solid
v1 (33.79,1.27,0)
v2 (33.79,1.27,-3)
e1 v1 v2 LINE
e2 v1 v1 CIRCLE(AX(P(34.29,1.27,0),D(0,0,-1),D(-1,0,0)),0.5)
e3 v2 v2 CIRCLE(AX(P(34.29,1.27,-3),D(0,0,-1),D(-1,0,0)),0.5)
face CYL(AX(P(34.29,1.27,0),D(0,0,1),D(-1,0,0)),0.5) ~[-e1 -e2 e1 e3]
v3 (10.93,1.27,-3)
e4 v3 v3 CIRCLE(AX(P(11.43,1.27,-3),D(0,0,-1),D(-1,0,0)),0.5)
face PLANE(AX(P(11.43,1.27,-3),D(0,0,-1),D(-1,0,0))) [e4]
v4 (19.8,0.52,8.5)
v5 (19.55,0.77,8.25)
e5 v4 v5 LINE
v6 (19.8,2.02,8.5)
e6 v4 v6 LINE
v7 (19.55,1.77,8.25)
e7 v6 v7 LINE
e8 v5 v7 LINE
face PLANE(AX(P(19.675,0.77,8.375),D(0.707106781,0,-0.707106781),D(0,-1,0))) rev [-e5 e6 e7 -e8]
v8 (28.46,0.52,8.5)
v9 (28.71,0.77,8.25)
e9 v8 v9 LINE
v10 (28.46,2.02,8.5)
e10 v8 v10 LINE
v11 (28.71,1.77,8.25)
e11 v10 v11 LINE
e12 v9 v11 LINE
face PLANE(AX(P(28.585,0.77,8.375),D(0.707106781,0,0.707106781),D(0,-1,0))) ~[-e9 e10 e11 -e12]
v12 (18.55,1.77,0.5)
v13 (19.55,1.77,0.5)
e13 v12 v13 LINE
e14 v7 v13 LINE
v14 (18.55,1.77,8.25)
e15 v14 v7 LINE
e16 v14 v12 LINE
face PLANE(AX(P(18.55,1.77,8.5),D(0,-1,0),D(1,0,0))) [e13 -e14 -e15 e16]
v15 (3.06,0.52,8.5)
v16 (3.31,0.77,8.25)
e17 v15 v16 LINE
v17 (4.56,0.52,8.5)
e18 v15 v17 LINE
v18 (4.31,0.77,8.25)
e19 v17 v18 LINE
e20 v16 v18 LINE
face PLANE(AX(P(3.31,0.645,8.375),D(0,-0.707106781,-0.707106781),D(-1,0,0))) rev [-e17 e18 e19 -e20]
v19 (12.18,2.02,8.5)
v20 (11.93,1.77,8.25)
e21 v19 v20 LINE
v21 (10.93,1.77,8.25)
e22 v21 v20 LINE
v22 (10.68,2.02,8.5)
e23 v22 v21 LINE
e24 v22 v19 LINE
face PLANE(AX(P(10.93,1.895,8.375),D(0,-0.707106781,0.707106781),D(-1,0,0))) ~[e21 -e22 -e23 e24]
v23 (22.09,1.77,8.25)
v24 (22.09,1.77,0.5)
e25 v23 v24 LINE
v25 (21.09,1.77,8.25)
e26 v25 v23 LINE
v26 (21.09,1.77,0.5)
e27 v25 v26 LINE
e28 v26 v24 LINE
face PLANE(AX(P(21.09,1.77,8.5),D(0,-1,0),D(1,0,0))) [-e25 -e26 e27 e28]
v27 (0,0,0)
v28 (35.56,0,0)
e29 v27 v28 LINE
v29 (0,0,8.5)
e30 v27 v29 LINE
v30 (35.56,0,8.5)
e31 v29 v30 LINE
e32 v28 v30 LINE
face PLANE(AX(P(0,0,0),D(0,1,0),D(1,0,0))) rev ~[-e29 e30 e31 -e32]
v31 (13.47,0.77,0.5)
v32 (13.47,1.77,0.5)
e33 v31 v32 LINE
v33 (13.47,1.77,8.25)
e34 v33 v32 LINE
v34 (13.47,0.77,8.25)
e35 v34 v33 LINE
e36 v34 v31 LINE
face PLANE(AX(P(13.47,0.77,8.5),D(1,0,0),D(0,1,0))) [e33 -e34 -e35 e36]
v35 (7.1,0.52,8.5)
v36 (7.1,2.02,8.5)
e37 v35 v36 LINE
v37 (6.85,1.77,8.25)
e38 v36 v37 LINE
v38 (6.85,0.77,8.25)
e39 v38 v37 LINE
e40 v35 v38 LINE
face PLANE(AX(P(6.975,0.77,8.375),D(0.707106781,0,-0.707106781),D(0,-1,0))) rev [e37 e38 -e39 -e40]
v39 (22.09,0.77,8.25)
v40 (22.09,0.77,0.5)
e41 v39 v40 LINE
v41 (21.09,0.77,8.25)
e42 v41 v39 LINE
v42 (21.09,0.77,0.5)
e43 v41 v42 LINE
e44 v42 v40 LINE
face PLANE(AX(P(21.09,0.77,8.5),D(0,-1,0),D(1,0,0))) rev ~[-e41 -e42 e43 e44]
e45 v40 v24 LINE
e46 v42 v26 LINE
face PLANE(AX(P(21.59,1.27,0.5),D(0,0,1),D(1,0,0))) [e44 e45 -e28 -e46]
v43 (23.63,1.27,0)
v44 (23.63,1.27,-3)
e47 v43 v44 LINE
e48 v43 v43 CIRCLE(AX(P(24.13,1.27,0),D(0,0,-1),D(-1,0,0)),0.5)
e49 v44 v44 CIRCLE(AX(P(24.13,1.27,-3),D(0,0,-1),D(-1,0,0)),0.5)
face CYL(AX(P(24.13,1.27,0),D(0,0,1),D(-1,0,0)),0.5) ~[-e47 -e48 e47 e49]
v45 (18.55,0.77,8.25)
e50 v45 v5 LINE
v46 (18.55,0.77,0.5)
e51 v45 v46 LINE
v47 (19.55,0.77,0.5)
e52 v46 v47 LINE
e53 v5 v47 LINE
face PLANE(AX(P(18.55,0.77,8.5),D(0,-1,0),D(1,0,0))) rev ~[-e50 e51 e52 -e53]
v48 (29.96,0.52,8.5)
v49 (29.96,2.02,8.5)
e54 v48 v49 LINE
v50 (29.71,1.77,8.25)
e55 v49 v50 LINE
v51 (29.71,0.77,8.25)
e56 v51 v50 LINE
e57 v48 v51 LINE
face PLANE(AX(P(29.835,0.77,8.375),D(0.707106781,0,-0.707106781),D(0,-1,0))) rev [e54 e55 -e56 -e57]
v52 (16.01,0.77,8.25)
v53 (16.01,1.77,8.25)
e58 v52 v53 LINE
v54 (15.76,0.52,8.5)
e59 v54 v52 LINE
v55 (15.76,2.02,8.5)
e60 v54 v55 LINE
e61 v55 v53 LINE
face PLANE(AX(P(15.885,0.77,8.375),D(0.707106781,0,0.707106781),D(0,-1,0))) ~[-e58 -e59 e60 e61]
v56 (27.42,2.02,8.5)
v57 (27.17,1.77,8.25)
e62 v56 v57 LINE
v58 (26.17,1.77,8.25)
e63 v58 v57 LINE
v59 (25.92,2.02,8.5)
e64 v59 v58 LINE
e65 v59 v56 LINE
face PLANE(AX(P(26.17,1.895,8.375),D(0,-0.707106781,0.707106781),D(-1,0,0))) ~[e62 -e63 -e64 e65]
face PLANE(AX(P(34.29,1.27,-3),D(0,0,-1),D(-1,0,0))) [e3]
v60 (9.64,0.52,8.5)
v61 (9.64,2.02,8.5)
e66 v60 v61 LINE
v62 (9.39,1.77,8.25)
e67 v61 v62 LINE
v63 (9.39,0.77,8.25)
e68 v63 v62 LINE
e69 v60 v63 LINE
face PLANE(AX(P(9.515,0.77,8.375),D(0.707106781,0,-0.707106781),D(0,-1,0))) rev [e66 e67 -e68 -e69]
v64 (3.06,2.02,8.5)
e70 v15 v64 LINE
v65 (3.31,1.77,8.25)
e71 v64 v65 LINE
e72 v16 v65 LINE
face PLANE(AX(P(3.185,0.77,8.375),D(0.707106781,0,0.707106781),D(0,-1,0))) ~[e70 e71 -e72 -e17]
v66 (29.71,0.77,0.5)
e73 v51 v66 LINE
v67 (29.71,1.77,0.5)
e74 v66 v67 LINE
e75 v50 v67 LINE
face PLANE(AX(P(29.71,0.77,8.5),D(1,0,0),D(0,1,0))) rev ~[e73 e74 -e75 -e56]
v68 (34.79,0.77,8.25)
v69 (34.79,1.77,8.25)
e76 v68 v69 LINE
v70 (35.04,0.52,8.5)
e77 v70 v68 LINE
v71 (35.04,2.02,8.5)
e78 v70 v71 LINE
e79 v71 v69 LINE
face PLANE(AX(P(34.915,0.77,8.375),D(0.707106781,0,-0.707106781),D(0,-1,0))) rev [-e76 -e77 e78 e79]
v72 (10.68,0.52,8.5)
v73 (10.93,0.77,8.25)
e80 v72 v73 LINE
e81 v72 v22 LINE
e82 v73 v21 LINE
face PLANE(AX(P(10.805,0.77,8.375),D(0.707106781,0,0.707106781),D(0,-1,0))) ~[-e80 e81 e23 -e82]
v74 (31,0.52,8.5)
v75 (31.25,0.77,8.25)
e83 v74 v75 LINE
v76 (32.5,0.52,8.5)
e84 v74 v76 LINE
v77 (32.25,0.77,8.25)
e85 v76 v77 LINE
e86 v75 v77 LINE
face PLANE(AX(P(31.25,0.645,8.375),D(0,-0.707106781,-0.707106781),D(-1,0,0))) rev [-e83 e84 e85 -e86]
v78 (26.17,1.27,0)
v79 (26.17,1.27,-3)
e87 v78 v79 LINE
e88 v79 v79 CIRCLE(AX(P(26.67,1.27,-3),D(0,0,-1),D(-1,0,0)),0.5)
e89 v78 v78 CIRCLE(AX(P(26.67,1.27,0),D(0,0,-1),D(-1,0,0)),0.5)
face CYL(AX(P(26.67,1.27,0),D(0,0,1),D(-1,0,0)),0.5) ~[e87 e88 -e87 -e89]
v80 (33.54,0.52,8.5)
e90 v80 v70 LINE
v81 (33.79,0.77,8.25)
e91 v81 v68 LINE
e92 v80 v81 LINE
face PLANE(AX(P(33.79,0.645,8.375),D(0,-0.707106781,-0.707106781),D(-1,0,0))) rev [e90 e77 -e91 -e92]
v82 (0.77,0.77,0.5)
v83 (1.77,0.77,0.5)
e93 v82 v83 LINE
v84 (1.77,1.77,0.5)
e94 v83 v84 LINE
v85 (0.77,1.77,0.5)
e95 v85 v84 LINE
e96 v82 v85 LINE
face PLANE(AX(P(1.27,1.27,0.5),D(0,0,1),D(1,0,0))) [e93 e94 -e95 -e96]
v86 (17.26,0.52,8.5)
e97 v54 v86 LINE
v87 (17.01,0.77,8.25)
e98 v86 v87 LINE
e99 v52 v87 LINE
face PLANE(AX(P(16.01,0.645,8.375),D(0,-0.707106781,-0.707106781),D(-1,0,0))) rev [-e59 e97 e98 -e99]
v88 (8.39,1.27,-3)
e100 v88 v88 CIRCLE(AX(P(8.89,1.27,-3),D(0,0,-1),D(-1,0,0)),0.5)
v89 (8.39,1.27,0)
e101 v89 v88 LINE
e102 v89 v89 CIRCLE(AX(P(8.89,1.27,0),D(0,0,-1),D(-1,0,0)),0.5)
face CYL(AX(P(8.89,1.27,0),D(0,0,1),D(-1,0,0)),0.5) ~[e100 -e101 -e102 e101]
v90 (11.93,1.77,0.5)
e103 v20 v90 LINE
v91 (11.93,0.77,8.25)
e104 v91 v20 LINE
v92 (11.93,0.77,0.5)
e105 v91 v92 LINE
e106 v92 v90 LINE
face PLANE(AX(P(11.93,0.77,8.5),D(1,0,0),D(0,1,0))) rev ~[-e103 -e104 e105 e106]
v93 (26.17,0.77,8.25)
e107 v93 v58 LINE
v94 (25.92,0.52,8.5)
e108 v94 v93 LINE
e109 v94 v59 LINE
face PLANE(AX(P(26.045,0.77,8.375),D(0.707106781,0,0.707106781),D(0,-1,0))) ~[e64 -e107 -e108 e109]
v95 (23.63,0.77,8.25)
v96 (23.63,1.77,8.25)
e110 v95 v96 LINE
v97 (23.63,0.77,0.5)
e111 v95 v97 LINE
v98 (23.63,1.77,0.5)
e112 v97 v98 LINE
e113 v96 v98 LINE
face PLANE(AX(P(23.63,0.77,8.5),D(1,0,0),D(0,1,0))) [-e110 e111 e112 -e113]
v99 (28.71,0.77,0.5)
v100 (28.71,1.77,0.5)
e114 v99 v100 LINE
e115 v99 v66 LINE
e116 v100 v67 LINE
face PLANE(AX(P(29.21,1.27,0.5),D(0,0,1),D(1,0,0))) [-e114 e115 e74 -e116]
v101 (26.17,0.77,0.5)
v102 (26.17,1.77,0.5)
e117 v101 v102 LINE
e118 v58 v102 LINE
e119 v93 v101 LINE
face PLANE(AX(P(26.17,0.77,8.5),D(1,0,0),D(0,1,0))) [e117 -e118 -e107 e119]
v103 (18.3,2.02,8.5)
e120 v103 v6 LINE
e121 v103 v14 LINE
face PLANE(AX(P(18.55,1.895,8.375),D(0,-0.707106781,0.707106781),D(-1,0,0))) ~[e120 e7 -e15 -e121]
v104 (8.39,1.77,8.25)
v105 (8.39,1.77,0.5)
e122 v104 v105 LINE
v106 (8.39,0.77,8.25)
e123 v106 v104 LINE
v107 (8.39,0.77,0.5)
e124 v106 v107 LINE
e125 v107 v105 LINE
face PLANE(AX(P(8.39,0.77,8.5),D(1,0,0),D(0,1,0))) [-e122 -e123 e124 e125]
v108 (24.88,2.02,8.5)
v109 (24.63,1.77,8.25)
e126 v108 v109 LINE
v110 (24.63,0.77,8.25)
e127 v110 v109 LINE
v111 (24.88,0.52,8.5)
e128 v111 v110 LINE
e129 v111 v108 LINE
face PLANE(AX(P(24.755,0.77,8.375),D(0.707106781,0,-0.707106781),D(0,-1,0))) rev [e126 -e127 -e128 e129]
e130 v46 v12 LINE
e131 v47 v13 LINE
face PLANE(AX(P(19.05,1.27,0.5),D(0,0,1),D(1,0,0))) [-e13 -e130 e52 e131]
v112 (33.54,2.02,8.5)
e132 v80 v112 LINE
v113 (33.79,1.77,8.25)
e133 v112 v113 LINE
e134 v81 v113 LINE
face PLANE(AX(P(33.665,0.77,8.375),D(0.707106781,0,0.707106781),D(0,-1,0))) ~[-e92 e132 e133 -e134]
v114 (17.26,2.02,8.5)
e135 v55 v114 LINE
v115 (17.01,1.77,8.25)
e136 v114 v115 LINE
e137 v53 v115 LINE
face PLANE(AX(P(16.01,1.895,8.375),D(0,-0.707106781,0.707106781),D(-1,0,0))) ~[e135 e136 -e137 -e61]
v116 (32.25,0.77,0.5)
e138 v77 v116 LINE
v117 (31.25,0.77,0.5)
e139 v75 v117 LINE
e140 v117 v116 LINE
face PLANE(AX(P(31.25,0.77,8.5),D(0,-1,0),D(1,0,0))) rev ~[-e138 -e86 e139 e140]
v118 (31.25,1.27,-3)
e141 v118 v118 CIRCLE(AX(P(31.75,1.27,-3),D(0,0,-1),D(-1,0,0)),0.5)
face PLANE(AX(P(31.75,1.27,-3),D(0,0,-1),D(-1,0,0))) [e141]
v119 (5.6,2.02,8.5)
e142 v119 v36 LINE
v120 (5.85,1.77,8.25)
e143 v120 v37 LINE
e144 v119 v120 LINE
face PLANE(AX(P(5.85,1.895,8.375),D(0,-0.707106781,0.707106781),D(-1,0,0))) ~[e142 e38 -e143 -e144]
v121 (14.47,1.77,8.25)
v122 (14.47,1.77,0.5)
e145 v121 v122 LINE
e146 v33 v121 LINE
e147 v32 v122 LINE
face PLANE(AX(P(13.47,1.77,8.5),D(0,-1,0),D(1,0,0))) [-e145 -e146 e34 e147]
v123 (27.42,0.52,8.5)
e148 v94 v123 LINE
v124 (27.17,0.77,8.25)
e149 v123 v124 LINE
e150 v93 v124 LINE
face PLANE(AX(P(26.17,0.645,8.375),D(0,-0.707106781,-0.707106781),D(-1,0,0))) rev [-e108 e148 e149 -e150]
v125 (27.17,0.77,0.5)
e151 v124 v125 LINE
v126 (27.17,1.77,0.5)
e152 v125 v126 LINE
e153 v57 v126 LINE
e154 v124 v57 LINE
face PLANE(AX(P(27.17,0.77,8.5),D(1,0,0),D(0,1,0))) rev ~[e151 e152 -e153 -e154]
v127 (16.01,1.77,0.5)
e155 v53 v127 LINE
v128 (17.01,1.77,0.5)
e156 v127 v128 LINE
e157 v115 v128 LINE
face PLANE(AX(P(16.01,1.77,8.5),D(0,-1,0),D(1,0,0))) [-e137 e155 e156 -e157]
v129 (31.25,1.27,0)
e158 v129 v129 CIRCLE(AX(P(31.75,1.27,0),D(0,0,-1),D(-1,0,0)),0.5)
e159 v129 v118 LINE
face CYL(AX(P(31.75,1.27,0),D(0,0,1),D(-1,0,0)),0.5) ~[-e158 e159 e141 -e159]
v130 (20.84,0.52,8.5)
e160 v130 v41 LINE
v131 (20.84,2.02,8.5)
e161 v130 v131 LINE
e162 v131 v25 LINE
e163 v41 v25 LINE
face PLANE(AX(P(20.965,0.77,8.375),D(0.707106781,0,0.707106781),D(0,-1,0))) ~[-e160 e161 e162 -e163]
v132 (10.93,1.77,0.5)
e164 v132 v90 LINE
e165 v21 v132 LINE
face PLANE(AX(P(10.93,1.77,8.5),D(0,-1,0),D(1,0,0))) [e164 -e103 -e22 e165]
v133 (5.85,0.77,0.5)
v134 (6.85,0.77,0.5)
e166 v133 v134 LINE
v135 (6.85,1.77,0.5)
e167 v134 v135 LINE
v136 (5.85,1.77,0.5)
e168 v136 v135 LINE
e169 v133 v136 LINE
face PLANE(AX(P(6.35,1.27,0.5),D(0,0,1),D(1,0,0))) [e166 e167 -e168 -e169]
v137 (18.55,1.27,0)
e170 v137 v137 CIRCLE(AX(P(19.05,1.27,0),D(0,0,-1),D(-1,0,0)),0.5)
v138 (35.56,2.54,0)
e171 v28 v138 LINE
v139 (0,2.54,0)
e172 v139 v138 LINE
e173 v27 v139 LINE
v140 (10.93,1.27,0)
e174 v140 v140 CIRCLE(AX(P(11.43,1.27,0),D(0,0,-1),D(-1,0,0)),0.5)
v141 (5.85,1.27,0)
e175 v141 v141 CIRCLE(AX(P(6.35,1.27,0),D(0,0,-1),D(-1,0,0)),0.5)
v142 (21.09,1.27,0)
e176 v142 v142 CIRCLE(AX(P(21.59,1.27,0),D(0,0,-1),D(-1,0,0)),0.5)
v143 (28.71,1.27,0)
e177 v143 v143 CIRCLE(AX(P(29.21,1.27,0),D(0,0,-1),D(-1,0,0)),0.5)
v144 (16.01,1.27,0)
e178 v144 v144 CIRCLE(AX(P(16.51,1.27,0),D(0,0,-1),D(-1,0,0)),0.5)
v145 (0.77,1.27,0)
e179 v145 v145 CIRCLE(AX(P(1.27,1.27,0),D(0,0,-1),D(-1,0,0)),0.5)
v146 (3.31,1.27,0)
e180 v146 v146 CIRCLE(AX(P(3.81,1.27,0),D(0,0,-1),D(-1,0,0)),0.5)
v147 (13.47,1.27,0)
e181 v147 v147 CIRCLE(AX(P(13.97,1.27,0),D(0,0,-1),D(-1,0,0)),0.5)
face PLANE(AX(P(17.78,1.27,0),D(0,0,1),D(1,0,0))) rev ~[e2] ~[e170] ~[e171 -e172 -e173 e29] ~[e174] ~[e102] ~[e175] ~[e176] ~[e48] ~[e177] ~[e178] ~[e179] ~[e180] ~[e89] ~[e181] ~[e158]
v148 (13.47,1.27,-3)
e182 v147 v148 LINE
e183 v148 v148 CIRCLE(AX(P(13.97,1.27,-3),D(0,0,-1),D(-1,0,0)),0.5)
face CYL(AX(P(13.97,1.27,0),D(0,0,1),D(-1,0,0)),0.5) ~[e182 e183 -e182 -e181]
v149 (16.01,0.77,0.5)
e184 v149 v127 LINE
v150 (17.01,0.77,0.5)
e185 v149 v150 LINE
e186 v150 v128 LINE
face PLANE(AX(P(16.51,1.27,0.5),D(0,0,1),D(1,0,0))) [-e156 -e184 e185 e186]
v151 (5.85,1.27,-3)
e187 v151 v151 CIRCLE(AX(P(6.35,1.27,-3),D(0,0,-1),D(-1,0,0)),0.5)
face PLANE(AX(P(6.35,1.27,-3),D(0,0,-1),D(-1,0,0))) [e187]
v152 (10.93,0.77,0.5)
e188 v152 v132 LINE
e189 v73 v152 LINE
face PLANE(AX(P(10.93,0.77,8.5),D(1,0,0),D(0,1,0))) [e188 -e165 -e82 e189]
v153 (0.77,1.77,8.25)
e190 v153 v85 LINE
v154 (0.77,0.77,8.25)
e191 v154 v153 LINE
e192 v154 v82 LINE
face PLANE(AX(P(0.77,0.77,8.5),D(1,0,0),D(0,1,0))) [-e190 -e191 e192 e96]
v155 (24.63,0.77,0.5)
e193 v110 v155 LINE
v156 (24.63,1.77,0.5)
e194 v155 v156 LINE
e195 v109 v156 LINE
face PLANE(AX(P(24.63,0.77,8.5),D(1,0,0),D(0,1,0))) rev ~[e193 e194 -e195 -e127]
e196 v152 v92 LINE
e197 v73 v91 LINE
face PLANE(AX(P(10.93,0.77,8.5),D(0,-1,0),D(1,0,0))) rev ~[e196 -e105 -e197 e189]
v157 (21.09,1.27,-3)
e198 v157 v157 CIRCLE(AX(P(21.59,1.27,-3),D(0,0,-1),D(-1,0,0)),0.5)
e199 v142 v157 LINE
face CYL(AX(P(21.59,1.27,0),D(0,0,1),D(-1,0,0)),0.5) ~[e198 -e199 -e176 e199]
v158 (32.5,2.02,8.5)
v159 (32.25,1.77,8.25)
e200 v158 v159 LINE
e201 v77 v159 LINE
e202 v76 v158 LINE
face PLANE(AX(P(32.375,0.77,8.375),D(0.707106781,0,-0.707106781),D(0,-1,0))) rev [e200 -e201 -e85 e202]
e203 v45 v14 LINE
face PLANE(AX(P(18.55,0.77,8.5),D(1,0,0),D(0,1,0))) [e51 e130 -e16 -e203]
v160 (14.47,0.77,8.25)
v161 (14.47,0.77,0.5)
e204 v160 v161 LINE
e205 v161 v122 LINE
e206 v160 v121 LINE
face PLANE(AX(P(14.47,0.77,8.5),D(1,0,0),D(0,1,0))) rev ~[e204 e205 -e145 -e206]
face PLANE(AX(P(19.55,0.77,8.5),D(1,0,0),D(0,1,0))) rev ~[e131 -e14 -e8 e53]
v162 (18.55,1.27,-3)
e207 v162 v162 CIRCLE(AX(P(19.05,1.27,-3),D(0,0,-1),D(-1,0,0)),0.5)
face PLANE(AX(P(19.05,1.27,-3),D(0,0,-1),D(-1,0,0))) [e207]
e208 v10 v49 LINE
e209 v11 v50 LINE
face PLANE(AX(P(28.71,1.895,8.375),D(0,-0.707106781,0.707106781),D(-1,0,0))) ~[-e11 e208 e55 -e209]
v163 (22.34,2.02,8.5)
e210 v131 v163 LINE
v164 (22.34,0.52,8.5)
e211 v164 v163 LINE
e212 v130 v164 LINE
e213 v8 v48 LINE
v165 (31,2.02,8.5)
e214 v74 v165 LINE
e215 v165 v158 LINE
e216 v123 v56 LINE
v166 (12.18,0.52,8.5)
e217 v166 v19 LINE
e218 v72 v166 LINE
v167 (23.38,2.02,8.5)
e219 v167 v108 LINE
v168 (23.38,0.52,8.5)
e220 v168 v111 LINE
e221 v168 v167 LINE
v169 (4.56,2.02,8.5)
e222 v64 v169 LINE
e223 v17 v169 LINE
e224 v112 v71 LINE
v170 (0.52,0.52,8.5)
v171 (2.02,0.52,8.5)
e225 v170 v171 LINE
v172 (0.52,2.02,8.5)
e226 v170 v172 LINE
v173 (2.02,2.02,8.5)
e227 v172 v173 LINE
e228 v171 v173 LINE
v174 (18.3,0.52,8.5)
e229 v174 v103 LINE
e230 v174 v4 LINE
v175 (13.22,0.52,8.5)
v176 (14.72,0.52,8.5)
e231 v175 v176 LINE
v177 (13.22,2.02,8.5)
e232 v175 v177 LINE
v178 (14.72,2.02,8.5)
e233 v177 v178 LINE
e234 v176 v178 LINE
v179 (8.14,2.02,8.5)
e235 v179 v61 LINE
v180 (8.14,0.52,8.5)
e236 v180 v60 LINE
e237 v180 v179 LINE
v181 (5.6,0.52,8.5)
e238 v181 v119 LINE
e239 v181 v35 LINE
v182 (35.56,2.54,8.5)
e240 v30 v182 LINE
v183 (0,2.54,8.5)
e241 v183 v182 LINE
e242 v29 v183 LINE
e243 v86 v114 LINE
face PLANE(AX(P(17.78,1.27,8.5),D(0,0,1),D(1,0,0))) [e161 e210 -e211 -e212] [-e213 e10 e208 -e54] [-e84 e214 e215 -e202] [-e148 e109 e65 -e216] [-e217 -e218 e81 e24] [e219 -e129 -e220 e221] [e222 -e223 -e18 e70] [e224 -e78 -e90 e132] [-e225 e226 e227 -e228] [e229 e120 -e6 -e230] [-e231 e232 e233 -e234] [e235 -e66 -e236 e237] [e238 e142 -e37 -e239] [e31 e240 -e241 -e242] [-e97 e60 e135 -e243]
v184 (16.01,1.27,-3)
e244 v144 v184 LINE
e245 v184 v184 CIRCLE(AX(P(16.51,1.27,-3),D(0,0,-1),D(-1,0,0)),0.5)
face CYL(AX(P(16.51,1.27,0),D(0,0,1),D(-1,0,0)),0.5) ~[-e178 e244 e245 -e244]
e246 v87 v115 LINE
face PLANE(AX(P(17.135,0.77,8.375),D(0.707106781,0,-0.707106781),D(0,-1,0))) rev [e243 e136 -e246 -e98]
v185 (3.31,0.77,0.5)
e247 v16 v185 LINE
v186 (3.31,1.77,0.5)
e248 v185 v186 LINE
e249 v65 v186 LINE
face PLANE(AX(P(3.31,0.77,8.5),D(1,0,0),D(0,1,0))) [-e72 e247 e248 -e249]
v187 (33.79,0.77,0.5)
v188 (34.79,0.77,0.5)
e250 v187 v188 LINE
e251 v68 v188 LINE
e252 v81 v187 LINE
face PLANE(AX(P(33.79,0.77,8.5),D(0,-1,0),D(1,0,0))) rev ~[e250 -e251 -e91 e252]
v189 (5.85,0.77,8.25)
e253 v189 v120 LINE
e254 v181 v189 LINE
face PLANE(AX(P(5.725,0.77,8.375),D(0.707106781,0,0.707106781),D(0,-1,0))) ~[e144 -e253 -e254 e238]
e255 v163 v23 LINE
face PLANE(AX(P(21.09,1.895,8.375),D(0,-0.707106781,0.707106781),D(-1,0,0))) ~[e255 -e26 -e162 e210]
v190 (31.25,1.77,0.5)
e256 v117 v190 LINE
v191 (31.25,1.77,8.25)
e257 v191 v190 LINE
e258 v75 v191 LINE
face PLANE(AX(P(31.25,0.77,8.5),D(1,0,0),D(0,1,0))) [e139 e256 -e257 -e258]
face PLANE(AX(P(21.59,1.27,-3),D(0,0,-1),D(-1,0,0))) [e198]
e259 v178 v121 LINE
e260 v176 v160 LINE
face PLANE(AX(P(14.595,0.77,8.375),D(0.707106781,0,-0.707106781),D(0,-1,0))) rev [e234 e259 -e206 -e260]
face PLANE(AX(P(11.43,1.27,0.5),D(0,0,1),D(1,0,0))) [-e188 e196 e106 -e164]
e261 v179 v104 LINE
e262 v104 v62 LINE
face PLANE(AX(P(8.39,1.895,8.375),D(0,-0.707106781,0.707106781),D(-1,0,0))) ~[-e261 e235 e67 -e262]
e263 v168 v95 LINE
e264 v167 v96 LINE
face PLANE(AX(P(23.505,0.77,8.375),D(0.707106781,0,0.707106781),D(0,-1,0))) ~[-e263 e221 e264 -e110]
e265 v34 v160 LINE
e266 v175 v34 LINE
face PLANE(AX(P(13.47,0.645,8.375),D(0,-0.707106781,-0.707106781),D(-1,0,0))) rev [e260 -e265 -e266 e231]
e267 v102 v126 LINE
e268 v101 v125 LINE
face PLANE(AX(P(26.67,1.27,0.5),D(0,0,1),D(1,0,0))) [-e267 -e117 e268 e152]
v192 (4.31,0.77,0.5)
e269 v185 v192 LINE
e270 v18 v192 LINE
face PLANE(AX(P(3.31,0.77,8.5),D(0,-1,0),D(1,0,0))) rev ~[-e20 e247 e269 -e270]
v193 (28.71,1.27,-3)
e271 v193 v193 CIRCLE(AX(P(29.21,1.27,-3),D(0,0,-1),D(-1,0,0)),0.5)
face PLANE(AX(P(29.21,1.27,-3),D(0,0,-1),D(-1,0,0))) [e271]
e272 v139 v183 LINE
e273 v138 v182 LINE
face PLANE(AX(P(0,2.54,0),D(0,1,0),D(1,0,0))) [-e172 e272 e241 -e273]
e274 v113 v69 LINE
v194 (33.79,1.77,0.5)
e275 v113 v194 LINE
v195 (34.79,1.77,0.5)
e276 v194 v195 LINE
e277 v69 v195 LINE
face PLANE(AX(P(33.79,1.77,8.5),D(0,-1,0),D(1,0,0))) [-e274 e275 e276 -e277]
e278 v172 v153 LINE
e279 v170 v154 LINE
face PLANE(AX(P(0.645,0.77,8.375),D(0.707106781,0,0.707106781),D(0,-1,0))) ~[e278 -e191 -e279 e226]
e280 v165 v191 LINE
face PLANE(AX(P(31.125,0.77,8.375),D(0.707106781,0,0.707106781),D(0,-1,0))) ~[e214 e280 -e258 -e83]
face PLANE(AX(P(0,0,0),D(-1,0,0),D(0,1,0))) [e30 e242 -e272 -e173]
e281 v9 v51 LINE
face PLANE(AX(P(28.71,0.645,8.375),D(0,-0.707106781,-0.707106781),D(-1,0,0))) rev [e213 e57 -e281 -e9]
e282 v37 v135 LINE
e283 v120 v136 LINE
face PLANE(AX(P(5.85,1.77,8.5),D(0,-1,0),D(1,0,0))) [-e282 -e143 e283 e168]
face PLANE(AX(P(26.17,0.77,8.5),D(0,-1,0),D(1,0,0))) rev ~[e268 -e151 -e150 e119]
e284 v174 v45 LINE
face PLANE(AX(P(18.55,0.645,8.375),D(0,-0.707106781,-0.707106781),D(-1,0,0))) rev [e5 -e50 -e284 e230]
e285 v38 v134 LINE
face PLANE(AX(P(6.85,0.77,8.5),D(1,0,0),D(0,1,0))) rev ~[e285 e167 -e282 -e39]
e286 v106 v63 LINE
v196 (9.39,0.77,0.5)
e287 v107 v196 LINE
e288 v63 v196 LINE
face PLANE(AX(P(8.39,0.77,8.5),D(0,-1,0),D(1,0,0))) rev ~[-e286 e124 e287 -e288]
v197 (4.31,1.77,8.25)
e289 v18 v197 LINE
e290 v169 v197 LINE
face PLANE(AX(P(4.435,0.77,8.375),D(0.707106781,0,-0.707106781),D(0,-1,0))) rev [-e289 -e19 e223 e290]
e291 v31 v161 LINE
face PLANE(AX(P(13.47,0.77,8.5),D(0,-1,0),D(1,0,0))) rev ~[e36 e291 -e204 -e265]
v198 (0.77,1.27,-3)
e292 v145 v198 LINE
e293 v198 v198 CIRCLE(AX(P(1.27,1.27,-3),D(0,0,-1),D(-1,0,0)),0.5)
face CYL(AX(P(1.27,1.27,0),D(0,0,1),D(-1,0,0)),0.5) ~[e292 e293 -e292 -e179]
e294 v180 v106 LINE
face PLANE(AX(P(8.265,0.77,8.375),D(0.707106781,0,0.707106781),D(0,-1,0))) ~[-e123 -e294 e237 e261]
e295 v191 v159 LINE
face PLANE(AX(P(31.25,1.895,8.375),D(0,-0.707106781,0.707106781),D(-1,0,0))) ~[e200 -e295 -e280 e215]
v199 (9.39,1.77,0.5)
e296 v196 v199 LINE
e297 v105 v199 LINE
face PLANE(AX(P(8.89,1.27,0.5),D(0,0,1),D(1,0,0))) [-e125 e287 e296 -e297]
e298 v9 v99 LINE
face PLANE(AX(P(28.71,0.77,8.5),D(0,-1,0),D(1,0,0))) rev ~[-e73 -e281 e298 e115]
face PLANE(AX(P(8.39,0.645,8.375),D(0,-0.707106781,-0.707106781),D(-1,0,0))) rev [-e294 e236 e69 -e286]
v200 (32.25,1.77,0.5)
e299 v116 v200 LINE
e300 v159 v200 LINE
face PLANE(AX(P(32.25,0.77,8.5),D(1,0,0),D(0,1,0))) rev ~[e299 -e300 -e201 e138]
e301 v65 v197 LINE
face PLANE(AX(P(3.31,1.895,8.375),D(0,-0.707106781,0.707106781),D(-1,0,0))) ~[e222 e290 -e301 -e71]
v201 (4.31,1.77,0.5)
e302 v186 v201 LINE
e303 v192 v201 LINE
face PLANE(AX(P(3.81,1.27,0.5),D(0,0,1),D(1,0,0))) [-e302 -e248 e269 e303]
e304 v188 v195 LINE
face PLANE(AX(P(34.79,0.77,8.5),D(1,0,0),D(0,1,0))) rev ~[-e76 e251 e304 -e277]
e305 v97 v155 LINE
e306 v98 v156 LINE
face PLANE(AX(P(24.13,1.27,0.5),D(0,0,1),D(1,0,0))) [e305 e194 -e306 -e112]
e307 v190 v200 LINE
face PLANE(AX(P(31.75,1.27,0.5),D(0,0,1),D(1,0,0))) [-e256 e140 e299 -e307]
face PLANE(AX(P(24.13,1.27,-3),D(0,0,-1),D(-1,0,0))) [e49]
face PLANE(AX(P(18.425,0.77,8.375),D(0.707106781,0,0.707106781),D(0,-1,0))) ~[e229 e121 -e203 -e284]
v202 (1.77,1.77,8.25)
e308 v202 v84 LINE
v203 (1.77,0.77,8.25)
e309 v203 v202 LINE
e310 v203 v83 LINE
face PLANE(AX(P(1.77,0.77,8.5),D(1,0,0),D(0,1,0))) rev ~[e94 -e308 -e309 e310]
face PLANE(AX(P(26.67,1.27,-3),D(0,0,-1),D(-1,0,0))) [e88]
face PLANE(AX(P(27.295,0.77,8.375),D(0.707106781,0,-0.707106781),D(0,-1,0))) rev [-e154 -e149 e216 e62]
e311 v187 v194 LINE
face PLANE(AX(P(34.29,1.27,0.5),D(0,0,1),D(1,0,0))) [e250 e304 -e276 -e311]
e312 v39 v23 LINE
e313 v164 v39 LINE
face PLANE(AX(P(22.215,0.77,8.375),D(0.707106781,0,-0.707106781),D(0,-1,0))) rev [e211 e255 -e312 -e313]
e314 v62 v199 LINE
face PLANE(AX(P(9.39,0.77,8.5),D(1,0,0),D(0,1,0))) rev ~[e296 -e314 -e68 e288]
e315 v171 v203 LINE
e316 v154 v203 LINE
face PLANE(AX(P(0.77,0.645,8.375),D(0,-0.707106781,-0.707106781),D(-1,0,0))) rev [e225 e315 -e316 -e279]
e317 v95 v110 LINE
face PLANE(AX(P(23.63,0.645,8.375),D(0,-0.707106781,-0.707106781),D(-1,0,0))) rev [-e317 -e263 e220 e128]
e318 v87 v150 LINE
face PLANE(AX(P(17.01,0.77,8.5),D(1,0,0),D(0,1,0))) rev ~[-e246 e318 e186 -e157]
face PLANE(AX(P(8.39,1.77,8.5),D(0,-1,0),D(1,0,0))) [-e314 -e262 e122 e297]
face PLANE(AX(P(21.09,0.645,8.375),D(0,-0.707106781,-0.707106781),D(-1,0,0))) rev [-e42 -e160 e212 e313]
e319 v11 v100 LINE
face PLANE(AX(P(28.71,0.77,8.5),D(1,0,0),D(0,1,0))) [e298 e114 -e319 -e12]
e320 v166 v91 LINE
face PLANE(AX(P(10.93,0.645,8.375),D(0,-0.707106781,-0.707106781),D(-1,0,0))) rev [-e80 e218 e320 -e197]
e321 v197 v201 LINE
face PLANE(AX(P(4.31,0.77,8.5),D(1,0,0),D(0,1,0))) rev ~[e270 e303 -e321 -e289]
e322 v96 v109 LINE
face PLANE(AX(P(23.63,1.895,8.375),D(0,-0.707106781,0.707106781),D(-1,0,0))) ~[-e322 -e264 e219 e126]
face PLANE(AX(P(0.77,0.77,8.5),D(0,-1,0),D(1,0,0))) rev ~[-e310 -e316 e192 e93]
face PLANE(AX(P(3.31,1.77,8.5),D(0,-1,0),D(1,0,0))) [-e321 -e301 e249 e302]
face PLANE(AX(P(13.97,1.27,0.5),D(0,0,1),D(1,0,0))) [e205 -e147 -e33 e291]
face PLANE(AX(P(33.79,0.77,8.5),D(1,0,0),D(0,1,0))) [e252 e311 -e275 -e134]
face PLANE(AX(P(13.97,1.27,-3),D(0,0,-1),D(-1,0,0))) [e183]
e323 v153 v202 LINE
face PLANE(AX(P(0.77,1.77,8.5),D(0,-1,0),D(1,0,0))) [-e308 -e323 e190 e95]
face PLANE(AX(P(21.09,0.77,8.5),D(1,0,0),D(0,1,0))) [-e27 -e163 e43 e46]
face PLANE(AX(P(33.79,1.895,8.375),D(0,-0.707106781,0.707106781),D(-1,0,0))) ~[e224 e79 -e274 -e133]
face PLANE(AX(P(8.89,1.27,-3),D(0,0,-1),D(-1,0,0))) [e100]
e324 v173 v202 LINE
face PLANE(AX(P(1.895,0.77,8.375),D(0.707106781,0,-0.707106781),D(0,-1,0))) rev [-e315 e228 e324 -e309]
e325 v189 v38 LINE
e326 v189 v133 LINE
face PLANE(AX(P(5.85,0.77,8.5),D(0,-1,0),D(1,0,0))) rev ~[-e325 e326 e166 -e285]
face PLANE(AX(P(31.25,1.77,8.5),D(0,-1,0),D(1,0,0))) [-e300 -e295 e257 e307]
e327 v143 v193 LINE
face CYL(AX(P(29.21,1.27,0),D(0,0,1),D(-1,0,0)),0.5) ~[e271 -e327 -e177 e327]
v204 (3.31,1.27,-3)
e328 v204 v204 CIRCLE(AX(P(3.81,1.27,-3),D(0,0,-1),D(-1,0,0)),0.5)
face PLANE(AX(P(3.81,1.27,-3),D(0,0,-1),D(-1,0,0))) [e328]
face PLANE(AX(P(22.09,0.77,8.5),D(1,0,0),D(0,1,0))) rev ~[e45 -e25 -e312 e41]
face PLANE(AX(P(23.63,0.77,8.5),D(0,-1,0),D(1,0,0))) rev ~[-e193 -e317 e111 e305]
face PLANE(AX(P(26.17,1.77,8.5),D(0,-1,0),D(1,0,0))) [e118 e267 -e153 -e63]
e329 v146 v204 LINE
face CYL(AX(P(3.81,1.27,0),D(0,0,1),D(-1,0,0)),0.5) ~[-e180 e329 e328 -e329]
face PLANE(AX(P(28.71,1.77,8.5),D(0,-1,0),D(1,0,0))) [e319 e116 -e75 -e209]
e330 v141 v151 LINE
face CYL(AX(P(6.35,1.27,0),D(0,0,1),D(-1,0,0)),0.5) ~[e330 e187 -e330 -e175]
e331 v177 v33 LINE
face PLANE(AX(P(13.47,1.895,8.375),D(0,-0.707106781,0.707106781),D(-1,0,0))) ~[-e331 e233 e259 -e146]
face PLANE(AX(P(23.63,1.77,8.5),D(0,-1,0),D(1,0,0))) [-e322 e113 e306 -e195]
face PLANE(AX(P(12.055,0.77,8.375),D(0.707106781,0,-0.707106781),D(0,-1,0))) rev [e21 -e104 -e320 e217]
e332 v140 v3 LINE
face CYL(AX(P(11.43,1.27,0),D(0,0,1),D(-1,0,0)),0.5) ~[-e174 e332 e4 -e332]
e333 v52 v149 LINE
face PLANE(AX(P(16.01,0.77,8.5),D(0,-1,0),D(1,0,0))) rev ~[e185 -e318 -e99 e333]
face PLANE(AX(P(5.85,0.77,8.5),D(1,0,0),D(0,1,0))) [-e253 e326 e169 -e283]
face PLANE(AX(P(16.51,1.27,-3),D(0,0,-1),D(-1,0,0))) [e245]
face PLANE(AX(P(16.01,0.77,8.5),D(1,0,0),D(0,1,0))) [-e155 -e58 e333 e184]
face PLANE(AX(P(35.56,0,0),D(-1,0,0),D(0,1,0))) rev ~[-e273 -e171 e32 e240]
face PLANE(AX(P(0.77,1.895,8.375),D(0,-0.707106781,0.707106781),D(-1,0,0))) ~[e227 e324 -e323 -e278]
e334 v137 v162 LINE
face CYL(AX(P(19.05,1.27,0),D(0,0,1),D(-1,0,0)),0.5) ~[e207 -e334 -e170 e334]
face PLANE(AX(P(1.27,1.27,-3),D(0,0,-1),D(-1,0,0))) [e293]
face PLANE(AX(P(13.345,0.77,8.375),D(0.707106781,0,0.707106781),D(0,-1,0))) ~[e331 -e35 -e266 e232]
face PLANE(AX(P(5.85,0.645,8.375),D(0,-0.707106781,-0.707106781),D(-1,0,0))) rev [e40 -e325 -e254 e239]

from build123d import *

# Parameters (mm, degrees)
SKETCH1_W                  = 35.56
SKETCH1_H                  = 2.54
BOSS_EXTRUDE1_DEPTH        = 8.5
SKETCH2_W                  = 1
SKETCH2_H                  = 1
CUT_EXTRUDE1_DEPTH         = 8
CHAMFER1_SIZE              = 0.25
LPATTERN2_COUNT            = 14
LPATTERN2_PITCH            = 2.54
CHAMFER1_OF_LPATTERN2_SIZE = 0.25
SKETCH3_R                  = 0.5
BOSS_EXTRUDE2_DEPTH        = 3
LPATTERN3_COUNT            = 14
LPATTERN3_PITCH            = 2.54


with BuildPart() as part:
    # Sketch1 → Boss-Extrude1 (new body)
    with BuildSketch(Plane.XY):
        with Locations((17.78, 1.27)):
            Rectangle(SKETCH1_W, SKETCH1_H)
    extrude(amount=BOSS_EXTRUDE1_DEPTH)

    # Sketch2 → Cut-Extrude1 (cut)
    with BuildSketch(Plane.XY.offset(8.5)):
        with Locations((1.27, 1.27)):
            Rectangle(SKETCH2_W, SKETCH2_H)
    cut_extrude1 = extrude(amount=-CUT_EXTRUDE1_DEPTH, mode=Mode.SUBTRACT)

    # Chamfer1
    chamfer1_edges = [part.edges().sort_by_distance(p)[0] for p in [
        (0.77, 1.27, 8.5),
        (1.27, 0.77, 8.5),
        (1.77, 1.27, 8.5),
        (1.27, 1.77, 8.5),
    ]]
    chamfer(chamfer1_edges, length=CHAMFER1_SIZE)

    # LPattern2: Cut-Extrude1 ×14
    with Locations(*[(i * LPATTERN2_PITCH, 0, 0) for i in range(1, LPATTERN2_COUNT)]):
        add(cut_extrude1, mode=Mode.SUBTRACT)

    # Chamfer1 of LPattern2
    chamfer1_of_lpattern2_edges = [part.edges().sort_by_distance(p)[0] for p in [
        (3.31, 1.27, 8.5),
        (3.81, 0.77, 8.5),
        (4.31, 1.27, 8.5),
        (3.81, 1.77, 8.5),
        (5.85, 1.27, 8.5),
        (6.35, 0.77, 8.5),
        (6.85, 1.27, 8.5),
        (6.35, 1.77, 8.5),
        (8.39, 1.27, 8.5),
        (8.89, 0.77, 8.5),
        (9.39, 1.27, 8.5),
        (8.89, 1.77, 8.5),
        (10.93, 1.27, 8.5),
        (11.43, 0.77, 8.5),
        (11.93, 1.27, 8.5),
        (11.43, 1.77, 8.5),
        (13.47, 1.27, 8.5),
        (13.97, 0.77, 8.5),
        (14.47, 1.27, 8.5),
        (13.97, 1.77, 8.5),
        (16.01, 1.27, 8.5),
        (16.51, 0.77, 8.5),
        (17.01, 1.27, 8.5),
        (16.51, 1.77, 8.5),
        (18.55, 1.27, 8.5),
        (19.05, 0.77, 8.5),
        (19.55, 1.27, 8.5),
        (19.05, 1.77, 8.5),
        (21.09, 1.27, 8.5),
        (21.59, 0.77, 8.5),
        (22.09, 1.27, 8.5),
        (21.59, 1.77, 8.5),
        (23.63, 1.27, 8.5),
        (24.13, 0.77, 8.5),
        (24.63, 1.27, 8.5),
        (24.13, 1.77, 8.5),
        (26.17, 1.27, 8.5),
        (26.67, 0.77, 8.5),
        (27.17, 1.27, 8.5),
        (26.67, 1.77, 8.5),
        (28.71, 1.27, 8.5),
        (29.21, 0.77, 8.5),
        (29.71, 1.27, 8.5),
        (29.21, 1.77, 8.5),
        (31.25, 1.27, 8.5),
        (31.75, 0.77, 8.5),
        (32.25, 1.27, 8.5),
        (31.75, 1.77, 8.5),
        (33.79, 1.27, 8.5),
        (34.29, 0.77, 8.5),
        (34.79, 1.27, 8.5),
        (34.29, 1.77, 8.5),
    ]]
    chamfer(chamfer1_of_lpattern2_edges, length=CHAMFER1_OF_LPATTERN2_SIZE)

    # Sketch3 → Boss-Extrude2 (add)
    with BuildSketch(Plane(origin=(0, 0, 0), x_dir=(-1, 0, 0), z_dir=(0, 0, -1))):
        with Locations((-1.27, 1.27)):
            Circle(SKETCH3_R)
    boss_extrude2 = extrude(amount=BOSS_EXTRUDE2_DEPTH)

    # LPattern3: Boss-Extrude2 ×14
    with Locations(*[(i * LPATTERN3_PITCH, 0, 0) for i in range(1, LPATTERN3_COUNT)]):
        add(boss_extrude2)


solid = part.part
